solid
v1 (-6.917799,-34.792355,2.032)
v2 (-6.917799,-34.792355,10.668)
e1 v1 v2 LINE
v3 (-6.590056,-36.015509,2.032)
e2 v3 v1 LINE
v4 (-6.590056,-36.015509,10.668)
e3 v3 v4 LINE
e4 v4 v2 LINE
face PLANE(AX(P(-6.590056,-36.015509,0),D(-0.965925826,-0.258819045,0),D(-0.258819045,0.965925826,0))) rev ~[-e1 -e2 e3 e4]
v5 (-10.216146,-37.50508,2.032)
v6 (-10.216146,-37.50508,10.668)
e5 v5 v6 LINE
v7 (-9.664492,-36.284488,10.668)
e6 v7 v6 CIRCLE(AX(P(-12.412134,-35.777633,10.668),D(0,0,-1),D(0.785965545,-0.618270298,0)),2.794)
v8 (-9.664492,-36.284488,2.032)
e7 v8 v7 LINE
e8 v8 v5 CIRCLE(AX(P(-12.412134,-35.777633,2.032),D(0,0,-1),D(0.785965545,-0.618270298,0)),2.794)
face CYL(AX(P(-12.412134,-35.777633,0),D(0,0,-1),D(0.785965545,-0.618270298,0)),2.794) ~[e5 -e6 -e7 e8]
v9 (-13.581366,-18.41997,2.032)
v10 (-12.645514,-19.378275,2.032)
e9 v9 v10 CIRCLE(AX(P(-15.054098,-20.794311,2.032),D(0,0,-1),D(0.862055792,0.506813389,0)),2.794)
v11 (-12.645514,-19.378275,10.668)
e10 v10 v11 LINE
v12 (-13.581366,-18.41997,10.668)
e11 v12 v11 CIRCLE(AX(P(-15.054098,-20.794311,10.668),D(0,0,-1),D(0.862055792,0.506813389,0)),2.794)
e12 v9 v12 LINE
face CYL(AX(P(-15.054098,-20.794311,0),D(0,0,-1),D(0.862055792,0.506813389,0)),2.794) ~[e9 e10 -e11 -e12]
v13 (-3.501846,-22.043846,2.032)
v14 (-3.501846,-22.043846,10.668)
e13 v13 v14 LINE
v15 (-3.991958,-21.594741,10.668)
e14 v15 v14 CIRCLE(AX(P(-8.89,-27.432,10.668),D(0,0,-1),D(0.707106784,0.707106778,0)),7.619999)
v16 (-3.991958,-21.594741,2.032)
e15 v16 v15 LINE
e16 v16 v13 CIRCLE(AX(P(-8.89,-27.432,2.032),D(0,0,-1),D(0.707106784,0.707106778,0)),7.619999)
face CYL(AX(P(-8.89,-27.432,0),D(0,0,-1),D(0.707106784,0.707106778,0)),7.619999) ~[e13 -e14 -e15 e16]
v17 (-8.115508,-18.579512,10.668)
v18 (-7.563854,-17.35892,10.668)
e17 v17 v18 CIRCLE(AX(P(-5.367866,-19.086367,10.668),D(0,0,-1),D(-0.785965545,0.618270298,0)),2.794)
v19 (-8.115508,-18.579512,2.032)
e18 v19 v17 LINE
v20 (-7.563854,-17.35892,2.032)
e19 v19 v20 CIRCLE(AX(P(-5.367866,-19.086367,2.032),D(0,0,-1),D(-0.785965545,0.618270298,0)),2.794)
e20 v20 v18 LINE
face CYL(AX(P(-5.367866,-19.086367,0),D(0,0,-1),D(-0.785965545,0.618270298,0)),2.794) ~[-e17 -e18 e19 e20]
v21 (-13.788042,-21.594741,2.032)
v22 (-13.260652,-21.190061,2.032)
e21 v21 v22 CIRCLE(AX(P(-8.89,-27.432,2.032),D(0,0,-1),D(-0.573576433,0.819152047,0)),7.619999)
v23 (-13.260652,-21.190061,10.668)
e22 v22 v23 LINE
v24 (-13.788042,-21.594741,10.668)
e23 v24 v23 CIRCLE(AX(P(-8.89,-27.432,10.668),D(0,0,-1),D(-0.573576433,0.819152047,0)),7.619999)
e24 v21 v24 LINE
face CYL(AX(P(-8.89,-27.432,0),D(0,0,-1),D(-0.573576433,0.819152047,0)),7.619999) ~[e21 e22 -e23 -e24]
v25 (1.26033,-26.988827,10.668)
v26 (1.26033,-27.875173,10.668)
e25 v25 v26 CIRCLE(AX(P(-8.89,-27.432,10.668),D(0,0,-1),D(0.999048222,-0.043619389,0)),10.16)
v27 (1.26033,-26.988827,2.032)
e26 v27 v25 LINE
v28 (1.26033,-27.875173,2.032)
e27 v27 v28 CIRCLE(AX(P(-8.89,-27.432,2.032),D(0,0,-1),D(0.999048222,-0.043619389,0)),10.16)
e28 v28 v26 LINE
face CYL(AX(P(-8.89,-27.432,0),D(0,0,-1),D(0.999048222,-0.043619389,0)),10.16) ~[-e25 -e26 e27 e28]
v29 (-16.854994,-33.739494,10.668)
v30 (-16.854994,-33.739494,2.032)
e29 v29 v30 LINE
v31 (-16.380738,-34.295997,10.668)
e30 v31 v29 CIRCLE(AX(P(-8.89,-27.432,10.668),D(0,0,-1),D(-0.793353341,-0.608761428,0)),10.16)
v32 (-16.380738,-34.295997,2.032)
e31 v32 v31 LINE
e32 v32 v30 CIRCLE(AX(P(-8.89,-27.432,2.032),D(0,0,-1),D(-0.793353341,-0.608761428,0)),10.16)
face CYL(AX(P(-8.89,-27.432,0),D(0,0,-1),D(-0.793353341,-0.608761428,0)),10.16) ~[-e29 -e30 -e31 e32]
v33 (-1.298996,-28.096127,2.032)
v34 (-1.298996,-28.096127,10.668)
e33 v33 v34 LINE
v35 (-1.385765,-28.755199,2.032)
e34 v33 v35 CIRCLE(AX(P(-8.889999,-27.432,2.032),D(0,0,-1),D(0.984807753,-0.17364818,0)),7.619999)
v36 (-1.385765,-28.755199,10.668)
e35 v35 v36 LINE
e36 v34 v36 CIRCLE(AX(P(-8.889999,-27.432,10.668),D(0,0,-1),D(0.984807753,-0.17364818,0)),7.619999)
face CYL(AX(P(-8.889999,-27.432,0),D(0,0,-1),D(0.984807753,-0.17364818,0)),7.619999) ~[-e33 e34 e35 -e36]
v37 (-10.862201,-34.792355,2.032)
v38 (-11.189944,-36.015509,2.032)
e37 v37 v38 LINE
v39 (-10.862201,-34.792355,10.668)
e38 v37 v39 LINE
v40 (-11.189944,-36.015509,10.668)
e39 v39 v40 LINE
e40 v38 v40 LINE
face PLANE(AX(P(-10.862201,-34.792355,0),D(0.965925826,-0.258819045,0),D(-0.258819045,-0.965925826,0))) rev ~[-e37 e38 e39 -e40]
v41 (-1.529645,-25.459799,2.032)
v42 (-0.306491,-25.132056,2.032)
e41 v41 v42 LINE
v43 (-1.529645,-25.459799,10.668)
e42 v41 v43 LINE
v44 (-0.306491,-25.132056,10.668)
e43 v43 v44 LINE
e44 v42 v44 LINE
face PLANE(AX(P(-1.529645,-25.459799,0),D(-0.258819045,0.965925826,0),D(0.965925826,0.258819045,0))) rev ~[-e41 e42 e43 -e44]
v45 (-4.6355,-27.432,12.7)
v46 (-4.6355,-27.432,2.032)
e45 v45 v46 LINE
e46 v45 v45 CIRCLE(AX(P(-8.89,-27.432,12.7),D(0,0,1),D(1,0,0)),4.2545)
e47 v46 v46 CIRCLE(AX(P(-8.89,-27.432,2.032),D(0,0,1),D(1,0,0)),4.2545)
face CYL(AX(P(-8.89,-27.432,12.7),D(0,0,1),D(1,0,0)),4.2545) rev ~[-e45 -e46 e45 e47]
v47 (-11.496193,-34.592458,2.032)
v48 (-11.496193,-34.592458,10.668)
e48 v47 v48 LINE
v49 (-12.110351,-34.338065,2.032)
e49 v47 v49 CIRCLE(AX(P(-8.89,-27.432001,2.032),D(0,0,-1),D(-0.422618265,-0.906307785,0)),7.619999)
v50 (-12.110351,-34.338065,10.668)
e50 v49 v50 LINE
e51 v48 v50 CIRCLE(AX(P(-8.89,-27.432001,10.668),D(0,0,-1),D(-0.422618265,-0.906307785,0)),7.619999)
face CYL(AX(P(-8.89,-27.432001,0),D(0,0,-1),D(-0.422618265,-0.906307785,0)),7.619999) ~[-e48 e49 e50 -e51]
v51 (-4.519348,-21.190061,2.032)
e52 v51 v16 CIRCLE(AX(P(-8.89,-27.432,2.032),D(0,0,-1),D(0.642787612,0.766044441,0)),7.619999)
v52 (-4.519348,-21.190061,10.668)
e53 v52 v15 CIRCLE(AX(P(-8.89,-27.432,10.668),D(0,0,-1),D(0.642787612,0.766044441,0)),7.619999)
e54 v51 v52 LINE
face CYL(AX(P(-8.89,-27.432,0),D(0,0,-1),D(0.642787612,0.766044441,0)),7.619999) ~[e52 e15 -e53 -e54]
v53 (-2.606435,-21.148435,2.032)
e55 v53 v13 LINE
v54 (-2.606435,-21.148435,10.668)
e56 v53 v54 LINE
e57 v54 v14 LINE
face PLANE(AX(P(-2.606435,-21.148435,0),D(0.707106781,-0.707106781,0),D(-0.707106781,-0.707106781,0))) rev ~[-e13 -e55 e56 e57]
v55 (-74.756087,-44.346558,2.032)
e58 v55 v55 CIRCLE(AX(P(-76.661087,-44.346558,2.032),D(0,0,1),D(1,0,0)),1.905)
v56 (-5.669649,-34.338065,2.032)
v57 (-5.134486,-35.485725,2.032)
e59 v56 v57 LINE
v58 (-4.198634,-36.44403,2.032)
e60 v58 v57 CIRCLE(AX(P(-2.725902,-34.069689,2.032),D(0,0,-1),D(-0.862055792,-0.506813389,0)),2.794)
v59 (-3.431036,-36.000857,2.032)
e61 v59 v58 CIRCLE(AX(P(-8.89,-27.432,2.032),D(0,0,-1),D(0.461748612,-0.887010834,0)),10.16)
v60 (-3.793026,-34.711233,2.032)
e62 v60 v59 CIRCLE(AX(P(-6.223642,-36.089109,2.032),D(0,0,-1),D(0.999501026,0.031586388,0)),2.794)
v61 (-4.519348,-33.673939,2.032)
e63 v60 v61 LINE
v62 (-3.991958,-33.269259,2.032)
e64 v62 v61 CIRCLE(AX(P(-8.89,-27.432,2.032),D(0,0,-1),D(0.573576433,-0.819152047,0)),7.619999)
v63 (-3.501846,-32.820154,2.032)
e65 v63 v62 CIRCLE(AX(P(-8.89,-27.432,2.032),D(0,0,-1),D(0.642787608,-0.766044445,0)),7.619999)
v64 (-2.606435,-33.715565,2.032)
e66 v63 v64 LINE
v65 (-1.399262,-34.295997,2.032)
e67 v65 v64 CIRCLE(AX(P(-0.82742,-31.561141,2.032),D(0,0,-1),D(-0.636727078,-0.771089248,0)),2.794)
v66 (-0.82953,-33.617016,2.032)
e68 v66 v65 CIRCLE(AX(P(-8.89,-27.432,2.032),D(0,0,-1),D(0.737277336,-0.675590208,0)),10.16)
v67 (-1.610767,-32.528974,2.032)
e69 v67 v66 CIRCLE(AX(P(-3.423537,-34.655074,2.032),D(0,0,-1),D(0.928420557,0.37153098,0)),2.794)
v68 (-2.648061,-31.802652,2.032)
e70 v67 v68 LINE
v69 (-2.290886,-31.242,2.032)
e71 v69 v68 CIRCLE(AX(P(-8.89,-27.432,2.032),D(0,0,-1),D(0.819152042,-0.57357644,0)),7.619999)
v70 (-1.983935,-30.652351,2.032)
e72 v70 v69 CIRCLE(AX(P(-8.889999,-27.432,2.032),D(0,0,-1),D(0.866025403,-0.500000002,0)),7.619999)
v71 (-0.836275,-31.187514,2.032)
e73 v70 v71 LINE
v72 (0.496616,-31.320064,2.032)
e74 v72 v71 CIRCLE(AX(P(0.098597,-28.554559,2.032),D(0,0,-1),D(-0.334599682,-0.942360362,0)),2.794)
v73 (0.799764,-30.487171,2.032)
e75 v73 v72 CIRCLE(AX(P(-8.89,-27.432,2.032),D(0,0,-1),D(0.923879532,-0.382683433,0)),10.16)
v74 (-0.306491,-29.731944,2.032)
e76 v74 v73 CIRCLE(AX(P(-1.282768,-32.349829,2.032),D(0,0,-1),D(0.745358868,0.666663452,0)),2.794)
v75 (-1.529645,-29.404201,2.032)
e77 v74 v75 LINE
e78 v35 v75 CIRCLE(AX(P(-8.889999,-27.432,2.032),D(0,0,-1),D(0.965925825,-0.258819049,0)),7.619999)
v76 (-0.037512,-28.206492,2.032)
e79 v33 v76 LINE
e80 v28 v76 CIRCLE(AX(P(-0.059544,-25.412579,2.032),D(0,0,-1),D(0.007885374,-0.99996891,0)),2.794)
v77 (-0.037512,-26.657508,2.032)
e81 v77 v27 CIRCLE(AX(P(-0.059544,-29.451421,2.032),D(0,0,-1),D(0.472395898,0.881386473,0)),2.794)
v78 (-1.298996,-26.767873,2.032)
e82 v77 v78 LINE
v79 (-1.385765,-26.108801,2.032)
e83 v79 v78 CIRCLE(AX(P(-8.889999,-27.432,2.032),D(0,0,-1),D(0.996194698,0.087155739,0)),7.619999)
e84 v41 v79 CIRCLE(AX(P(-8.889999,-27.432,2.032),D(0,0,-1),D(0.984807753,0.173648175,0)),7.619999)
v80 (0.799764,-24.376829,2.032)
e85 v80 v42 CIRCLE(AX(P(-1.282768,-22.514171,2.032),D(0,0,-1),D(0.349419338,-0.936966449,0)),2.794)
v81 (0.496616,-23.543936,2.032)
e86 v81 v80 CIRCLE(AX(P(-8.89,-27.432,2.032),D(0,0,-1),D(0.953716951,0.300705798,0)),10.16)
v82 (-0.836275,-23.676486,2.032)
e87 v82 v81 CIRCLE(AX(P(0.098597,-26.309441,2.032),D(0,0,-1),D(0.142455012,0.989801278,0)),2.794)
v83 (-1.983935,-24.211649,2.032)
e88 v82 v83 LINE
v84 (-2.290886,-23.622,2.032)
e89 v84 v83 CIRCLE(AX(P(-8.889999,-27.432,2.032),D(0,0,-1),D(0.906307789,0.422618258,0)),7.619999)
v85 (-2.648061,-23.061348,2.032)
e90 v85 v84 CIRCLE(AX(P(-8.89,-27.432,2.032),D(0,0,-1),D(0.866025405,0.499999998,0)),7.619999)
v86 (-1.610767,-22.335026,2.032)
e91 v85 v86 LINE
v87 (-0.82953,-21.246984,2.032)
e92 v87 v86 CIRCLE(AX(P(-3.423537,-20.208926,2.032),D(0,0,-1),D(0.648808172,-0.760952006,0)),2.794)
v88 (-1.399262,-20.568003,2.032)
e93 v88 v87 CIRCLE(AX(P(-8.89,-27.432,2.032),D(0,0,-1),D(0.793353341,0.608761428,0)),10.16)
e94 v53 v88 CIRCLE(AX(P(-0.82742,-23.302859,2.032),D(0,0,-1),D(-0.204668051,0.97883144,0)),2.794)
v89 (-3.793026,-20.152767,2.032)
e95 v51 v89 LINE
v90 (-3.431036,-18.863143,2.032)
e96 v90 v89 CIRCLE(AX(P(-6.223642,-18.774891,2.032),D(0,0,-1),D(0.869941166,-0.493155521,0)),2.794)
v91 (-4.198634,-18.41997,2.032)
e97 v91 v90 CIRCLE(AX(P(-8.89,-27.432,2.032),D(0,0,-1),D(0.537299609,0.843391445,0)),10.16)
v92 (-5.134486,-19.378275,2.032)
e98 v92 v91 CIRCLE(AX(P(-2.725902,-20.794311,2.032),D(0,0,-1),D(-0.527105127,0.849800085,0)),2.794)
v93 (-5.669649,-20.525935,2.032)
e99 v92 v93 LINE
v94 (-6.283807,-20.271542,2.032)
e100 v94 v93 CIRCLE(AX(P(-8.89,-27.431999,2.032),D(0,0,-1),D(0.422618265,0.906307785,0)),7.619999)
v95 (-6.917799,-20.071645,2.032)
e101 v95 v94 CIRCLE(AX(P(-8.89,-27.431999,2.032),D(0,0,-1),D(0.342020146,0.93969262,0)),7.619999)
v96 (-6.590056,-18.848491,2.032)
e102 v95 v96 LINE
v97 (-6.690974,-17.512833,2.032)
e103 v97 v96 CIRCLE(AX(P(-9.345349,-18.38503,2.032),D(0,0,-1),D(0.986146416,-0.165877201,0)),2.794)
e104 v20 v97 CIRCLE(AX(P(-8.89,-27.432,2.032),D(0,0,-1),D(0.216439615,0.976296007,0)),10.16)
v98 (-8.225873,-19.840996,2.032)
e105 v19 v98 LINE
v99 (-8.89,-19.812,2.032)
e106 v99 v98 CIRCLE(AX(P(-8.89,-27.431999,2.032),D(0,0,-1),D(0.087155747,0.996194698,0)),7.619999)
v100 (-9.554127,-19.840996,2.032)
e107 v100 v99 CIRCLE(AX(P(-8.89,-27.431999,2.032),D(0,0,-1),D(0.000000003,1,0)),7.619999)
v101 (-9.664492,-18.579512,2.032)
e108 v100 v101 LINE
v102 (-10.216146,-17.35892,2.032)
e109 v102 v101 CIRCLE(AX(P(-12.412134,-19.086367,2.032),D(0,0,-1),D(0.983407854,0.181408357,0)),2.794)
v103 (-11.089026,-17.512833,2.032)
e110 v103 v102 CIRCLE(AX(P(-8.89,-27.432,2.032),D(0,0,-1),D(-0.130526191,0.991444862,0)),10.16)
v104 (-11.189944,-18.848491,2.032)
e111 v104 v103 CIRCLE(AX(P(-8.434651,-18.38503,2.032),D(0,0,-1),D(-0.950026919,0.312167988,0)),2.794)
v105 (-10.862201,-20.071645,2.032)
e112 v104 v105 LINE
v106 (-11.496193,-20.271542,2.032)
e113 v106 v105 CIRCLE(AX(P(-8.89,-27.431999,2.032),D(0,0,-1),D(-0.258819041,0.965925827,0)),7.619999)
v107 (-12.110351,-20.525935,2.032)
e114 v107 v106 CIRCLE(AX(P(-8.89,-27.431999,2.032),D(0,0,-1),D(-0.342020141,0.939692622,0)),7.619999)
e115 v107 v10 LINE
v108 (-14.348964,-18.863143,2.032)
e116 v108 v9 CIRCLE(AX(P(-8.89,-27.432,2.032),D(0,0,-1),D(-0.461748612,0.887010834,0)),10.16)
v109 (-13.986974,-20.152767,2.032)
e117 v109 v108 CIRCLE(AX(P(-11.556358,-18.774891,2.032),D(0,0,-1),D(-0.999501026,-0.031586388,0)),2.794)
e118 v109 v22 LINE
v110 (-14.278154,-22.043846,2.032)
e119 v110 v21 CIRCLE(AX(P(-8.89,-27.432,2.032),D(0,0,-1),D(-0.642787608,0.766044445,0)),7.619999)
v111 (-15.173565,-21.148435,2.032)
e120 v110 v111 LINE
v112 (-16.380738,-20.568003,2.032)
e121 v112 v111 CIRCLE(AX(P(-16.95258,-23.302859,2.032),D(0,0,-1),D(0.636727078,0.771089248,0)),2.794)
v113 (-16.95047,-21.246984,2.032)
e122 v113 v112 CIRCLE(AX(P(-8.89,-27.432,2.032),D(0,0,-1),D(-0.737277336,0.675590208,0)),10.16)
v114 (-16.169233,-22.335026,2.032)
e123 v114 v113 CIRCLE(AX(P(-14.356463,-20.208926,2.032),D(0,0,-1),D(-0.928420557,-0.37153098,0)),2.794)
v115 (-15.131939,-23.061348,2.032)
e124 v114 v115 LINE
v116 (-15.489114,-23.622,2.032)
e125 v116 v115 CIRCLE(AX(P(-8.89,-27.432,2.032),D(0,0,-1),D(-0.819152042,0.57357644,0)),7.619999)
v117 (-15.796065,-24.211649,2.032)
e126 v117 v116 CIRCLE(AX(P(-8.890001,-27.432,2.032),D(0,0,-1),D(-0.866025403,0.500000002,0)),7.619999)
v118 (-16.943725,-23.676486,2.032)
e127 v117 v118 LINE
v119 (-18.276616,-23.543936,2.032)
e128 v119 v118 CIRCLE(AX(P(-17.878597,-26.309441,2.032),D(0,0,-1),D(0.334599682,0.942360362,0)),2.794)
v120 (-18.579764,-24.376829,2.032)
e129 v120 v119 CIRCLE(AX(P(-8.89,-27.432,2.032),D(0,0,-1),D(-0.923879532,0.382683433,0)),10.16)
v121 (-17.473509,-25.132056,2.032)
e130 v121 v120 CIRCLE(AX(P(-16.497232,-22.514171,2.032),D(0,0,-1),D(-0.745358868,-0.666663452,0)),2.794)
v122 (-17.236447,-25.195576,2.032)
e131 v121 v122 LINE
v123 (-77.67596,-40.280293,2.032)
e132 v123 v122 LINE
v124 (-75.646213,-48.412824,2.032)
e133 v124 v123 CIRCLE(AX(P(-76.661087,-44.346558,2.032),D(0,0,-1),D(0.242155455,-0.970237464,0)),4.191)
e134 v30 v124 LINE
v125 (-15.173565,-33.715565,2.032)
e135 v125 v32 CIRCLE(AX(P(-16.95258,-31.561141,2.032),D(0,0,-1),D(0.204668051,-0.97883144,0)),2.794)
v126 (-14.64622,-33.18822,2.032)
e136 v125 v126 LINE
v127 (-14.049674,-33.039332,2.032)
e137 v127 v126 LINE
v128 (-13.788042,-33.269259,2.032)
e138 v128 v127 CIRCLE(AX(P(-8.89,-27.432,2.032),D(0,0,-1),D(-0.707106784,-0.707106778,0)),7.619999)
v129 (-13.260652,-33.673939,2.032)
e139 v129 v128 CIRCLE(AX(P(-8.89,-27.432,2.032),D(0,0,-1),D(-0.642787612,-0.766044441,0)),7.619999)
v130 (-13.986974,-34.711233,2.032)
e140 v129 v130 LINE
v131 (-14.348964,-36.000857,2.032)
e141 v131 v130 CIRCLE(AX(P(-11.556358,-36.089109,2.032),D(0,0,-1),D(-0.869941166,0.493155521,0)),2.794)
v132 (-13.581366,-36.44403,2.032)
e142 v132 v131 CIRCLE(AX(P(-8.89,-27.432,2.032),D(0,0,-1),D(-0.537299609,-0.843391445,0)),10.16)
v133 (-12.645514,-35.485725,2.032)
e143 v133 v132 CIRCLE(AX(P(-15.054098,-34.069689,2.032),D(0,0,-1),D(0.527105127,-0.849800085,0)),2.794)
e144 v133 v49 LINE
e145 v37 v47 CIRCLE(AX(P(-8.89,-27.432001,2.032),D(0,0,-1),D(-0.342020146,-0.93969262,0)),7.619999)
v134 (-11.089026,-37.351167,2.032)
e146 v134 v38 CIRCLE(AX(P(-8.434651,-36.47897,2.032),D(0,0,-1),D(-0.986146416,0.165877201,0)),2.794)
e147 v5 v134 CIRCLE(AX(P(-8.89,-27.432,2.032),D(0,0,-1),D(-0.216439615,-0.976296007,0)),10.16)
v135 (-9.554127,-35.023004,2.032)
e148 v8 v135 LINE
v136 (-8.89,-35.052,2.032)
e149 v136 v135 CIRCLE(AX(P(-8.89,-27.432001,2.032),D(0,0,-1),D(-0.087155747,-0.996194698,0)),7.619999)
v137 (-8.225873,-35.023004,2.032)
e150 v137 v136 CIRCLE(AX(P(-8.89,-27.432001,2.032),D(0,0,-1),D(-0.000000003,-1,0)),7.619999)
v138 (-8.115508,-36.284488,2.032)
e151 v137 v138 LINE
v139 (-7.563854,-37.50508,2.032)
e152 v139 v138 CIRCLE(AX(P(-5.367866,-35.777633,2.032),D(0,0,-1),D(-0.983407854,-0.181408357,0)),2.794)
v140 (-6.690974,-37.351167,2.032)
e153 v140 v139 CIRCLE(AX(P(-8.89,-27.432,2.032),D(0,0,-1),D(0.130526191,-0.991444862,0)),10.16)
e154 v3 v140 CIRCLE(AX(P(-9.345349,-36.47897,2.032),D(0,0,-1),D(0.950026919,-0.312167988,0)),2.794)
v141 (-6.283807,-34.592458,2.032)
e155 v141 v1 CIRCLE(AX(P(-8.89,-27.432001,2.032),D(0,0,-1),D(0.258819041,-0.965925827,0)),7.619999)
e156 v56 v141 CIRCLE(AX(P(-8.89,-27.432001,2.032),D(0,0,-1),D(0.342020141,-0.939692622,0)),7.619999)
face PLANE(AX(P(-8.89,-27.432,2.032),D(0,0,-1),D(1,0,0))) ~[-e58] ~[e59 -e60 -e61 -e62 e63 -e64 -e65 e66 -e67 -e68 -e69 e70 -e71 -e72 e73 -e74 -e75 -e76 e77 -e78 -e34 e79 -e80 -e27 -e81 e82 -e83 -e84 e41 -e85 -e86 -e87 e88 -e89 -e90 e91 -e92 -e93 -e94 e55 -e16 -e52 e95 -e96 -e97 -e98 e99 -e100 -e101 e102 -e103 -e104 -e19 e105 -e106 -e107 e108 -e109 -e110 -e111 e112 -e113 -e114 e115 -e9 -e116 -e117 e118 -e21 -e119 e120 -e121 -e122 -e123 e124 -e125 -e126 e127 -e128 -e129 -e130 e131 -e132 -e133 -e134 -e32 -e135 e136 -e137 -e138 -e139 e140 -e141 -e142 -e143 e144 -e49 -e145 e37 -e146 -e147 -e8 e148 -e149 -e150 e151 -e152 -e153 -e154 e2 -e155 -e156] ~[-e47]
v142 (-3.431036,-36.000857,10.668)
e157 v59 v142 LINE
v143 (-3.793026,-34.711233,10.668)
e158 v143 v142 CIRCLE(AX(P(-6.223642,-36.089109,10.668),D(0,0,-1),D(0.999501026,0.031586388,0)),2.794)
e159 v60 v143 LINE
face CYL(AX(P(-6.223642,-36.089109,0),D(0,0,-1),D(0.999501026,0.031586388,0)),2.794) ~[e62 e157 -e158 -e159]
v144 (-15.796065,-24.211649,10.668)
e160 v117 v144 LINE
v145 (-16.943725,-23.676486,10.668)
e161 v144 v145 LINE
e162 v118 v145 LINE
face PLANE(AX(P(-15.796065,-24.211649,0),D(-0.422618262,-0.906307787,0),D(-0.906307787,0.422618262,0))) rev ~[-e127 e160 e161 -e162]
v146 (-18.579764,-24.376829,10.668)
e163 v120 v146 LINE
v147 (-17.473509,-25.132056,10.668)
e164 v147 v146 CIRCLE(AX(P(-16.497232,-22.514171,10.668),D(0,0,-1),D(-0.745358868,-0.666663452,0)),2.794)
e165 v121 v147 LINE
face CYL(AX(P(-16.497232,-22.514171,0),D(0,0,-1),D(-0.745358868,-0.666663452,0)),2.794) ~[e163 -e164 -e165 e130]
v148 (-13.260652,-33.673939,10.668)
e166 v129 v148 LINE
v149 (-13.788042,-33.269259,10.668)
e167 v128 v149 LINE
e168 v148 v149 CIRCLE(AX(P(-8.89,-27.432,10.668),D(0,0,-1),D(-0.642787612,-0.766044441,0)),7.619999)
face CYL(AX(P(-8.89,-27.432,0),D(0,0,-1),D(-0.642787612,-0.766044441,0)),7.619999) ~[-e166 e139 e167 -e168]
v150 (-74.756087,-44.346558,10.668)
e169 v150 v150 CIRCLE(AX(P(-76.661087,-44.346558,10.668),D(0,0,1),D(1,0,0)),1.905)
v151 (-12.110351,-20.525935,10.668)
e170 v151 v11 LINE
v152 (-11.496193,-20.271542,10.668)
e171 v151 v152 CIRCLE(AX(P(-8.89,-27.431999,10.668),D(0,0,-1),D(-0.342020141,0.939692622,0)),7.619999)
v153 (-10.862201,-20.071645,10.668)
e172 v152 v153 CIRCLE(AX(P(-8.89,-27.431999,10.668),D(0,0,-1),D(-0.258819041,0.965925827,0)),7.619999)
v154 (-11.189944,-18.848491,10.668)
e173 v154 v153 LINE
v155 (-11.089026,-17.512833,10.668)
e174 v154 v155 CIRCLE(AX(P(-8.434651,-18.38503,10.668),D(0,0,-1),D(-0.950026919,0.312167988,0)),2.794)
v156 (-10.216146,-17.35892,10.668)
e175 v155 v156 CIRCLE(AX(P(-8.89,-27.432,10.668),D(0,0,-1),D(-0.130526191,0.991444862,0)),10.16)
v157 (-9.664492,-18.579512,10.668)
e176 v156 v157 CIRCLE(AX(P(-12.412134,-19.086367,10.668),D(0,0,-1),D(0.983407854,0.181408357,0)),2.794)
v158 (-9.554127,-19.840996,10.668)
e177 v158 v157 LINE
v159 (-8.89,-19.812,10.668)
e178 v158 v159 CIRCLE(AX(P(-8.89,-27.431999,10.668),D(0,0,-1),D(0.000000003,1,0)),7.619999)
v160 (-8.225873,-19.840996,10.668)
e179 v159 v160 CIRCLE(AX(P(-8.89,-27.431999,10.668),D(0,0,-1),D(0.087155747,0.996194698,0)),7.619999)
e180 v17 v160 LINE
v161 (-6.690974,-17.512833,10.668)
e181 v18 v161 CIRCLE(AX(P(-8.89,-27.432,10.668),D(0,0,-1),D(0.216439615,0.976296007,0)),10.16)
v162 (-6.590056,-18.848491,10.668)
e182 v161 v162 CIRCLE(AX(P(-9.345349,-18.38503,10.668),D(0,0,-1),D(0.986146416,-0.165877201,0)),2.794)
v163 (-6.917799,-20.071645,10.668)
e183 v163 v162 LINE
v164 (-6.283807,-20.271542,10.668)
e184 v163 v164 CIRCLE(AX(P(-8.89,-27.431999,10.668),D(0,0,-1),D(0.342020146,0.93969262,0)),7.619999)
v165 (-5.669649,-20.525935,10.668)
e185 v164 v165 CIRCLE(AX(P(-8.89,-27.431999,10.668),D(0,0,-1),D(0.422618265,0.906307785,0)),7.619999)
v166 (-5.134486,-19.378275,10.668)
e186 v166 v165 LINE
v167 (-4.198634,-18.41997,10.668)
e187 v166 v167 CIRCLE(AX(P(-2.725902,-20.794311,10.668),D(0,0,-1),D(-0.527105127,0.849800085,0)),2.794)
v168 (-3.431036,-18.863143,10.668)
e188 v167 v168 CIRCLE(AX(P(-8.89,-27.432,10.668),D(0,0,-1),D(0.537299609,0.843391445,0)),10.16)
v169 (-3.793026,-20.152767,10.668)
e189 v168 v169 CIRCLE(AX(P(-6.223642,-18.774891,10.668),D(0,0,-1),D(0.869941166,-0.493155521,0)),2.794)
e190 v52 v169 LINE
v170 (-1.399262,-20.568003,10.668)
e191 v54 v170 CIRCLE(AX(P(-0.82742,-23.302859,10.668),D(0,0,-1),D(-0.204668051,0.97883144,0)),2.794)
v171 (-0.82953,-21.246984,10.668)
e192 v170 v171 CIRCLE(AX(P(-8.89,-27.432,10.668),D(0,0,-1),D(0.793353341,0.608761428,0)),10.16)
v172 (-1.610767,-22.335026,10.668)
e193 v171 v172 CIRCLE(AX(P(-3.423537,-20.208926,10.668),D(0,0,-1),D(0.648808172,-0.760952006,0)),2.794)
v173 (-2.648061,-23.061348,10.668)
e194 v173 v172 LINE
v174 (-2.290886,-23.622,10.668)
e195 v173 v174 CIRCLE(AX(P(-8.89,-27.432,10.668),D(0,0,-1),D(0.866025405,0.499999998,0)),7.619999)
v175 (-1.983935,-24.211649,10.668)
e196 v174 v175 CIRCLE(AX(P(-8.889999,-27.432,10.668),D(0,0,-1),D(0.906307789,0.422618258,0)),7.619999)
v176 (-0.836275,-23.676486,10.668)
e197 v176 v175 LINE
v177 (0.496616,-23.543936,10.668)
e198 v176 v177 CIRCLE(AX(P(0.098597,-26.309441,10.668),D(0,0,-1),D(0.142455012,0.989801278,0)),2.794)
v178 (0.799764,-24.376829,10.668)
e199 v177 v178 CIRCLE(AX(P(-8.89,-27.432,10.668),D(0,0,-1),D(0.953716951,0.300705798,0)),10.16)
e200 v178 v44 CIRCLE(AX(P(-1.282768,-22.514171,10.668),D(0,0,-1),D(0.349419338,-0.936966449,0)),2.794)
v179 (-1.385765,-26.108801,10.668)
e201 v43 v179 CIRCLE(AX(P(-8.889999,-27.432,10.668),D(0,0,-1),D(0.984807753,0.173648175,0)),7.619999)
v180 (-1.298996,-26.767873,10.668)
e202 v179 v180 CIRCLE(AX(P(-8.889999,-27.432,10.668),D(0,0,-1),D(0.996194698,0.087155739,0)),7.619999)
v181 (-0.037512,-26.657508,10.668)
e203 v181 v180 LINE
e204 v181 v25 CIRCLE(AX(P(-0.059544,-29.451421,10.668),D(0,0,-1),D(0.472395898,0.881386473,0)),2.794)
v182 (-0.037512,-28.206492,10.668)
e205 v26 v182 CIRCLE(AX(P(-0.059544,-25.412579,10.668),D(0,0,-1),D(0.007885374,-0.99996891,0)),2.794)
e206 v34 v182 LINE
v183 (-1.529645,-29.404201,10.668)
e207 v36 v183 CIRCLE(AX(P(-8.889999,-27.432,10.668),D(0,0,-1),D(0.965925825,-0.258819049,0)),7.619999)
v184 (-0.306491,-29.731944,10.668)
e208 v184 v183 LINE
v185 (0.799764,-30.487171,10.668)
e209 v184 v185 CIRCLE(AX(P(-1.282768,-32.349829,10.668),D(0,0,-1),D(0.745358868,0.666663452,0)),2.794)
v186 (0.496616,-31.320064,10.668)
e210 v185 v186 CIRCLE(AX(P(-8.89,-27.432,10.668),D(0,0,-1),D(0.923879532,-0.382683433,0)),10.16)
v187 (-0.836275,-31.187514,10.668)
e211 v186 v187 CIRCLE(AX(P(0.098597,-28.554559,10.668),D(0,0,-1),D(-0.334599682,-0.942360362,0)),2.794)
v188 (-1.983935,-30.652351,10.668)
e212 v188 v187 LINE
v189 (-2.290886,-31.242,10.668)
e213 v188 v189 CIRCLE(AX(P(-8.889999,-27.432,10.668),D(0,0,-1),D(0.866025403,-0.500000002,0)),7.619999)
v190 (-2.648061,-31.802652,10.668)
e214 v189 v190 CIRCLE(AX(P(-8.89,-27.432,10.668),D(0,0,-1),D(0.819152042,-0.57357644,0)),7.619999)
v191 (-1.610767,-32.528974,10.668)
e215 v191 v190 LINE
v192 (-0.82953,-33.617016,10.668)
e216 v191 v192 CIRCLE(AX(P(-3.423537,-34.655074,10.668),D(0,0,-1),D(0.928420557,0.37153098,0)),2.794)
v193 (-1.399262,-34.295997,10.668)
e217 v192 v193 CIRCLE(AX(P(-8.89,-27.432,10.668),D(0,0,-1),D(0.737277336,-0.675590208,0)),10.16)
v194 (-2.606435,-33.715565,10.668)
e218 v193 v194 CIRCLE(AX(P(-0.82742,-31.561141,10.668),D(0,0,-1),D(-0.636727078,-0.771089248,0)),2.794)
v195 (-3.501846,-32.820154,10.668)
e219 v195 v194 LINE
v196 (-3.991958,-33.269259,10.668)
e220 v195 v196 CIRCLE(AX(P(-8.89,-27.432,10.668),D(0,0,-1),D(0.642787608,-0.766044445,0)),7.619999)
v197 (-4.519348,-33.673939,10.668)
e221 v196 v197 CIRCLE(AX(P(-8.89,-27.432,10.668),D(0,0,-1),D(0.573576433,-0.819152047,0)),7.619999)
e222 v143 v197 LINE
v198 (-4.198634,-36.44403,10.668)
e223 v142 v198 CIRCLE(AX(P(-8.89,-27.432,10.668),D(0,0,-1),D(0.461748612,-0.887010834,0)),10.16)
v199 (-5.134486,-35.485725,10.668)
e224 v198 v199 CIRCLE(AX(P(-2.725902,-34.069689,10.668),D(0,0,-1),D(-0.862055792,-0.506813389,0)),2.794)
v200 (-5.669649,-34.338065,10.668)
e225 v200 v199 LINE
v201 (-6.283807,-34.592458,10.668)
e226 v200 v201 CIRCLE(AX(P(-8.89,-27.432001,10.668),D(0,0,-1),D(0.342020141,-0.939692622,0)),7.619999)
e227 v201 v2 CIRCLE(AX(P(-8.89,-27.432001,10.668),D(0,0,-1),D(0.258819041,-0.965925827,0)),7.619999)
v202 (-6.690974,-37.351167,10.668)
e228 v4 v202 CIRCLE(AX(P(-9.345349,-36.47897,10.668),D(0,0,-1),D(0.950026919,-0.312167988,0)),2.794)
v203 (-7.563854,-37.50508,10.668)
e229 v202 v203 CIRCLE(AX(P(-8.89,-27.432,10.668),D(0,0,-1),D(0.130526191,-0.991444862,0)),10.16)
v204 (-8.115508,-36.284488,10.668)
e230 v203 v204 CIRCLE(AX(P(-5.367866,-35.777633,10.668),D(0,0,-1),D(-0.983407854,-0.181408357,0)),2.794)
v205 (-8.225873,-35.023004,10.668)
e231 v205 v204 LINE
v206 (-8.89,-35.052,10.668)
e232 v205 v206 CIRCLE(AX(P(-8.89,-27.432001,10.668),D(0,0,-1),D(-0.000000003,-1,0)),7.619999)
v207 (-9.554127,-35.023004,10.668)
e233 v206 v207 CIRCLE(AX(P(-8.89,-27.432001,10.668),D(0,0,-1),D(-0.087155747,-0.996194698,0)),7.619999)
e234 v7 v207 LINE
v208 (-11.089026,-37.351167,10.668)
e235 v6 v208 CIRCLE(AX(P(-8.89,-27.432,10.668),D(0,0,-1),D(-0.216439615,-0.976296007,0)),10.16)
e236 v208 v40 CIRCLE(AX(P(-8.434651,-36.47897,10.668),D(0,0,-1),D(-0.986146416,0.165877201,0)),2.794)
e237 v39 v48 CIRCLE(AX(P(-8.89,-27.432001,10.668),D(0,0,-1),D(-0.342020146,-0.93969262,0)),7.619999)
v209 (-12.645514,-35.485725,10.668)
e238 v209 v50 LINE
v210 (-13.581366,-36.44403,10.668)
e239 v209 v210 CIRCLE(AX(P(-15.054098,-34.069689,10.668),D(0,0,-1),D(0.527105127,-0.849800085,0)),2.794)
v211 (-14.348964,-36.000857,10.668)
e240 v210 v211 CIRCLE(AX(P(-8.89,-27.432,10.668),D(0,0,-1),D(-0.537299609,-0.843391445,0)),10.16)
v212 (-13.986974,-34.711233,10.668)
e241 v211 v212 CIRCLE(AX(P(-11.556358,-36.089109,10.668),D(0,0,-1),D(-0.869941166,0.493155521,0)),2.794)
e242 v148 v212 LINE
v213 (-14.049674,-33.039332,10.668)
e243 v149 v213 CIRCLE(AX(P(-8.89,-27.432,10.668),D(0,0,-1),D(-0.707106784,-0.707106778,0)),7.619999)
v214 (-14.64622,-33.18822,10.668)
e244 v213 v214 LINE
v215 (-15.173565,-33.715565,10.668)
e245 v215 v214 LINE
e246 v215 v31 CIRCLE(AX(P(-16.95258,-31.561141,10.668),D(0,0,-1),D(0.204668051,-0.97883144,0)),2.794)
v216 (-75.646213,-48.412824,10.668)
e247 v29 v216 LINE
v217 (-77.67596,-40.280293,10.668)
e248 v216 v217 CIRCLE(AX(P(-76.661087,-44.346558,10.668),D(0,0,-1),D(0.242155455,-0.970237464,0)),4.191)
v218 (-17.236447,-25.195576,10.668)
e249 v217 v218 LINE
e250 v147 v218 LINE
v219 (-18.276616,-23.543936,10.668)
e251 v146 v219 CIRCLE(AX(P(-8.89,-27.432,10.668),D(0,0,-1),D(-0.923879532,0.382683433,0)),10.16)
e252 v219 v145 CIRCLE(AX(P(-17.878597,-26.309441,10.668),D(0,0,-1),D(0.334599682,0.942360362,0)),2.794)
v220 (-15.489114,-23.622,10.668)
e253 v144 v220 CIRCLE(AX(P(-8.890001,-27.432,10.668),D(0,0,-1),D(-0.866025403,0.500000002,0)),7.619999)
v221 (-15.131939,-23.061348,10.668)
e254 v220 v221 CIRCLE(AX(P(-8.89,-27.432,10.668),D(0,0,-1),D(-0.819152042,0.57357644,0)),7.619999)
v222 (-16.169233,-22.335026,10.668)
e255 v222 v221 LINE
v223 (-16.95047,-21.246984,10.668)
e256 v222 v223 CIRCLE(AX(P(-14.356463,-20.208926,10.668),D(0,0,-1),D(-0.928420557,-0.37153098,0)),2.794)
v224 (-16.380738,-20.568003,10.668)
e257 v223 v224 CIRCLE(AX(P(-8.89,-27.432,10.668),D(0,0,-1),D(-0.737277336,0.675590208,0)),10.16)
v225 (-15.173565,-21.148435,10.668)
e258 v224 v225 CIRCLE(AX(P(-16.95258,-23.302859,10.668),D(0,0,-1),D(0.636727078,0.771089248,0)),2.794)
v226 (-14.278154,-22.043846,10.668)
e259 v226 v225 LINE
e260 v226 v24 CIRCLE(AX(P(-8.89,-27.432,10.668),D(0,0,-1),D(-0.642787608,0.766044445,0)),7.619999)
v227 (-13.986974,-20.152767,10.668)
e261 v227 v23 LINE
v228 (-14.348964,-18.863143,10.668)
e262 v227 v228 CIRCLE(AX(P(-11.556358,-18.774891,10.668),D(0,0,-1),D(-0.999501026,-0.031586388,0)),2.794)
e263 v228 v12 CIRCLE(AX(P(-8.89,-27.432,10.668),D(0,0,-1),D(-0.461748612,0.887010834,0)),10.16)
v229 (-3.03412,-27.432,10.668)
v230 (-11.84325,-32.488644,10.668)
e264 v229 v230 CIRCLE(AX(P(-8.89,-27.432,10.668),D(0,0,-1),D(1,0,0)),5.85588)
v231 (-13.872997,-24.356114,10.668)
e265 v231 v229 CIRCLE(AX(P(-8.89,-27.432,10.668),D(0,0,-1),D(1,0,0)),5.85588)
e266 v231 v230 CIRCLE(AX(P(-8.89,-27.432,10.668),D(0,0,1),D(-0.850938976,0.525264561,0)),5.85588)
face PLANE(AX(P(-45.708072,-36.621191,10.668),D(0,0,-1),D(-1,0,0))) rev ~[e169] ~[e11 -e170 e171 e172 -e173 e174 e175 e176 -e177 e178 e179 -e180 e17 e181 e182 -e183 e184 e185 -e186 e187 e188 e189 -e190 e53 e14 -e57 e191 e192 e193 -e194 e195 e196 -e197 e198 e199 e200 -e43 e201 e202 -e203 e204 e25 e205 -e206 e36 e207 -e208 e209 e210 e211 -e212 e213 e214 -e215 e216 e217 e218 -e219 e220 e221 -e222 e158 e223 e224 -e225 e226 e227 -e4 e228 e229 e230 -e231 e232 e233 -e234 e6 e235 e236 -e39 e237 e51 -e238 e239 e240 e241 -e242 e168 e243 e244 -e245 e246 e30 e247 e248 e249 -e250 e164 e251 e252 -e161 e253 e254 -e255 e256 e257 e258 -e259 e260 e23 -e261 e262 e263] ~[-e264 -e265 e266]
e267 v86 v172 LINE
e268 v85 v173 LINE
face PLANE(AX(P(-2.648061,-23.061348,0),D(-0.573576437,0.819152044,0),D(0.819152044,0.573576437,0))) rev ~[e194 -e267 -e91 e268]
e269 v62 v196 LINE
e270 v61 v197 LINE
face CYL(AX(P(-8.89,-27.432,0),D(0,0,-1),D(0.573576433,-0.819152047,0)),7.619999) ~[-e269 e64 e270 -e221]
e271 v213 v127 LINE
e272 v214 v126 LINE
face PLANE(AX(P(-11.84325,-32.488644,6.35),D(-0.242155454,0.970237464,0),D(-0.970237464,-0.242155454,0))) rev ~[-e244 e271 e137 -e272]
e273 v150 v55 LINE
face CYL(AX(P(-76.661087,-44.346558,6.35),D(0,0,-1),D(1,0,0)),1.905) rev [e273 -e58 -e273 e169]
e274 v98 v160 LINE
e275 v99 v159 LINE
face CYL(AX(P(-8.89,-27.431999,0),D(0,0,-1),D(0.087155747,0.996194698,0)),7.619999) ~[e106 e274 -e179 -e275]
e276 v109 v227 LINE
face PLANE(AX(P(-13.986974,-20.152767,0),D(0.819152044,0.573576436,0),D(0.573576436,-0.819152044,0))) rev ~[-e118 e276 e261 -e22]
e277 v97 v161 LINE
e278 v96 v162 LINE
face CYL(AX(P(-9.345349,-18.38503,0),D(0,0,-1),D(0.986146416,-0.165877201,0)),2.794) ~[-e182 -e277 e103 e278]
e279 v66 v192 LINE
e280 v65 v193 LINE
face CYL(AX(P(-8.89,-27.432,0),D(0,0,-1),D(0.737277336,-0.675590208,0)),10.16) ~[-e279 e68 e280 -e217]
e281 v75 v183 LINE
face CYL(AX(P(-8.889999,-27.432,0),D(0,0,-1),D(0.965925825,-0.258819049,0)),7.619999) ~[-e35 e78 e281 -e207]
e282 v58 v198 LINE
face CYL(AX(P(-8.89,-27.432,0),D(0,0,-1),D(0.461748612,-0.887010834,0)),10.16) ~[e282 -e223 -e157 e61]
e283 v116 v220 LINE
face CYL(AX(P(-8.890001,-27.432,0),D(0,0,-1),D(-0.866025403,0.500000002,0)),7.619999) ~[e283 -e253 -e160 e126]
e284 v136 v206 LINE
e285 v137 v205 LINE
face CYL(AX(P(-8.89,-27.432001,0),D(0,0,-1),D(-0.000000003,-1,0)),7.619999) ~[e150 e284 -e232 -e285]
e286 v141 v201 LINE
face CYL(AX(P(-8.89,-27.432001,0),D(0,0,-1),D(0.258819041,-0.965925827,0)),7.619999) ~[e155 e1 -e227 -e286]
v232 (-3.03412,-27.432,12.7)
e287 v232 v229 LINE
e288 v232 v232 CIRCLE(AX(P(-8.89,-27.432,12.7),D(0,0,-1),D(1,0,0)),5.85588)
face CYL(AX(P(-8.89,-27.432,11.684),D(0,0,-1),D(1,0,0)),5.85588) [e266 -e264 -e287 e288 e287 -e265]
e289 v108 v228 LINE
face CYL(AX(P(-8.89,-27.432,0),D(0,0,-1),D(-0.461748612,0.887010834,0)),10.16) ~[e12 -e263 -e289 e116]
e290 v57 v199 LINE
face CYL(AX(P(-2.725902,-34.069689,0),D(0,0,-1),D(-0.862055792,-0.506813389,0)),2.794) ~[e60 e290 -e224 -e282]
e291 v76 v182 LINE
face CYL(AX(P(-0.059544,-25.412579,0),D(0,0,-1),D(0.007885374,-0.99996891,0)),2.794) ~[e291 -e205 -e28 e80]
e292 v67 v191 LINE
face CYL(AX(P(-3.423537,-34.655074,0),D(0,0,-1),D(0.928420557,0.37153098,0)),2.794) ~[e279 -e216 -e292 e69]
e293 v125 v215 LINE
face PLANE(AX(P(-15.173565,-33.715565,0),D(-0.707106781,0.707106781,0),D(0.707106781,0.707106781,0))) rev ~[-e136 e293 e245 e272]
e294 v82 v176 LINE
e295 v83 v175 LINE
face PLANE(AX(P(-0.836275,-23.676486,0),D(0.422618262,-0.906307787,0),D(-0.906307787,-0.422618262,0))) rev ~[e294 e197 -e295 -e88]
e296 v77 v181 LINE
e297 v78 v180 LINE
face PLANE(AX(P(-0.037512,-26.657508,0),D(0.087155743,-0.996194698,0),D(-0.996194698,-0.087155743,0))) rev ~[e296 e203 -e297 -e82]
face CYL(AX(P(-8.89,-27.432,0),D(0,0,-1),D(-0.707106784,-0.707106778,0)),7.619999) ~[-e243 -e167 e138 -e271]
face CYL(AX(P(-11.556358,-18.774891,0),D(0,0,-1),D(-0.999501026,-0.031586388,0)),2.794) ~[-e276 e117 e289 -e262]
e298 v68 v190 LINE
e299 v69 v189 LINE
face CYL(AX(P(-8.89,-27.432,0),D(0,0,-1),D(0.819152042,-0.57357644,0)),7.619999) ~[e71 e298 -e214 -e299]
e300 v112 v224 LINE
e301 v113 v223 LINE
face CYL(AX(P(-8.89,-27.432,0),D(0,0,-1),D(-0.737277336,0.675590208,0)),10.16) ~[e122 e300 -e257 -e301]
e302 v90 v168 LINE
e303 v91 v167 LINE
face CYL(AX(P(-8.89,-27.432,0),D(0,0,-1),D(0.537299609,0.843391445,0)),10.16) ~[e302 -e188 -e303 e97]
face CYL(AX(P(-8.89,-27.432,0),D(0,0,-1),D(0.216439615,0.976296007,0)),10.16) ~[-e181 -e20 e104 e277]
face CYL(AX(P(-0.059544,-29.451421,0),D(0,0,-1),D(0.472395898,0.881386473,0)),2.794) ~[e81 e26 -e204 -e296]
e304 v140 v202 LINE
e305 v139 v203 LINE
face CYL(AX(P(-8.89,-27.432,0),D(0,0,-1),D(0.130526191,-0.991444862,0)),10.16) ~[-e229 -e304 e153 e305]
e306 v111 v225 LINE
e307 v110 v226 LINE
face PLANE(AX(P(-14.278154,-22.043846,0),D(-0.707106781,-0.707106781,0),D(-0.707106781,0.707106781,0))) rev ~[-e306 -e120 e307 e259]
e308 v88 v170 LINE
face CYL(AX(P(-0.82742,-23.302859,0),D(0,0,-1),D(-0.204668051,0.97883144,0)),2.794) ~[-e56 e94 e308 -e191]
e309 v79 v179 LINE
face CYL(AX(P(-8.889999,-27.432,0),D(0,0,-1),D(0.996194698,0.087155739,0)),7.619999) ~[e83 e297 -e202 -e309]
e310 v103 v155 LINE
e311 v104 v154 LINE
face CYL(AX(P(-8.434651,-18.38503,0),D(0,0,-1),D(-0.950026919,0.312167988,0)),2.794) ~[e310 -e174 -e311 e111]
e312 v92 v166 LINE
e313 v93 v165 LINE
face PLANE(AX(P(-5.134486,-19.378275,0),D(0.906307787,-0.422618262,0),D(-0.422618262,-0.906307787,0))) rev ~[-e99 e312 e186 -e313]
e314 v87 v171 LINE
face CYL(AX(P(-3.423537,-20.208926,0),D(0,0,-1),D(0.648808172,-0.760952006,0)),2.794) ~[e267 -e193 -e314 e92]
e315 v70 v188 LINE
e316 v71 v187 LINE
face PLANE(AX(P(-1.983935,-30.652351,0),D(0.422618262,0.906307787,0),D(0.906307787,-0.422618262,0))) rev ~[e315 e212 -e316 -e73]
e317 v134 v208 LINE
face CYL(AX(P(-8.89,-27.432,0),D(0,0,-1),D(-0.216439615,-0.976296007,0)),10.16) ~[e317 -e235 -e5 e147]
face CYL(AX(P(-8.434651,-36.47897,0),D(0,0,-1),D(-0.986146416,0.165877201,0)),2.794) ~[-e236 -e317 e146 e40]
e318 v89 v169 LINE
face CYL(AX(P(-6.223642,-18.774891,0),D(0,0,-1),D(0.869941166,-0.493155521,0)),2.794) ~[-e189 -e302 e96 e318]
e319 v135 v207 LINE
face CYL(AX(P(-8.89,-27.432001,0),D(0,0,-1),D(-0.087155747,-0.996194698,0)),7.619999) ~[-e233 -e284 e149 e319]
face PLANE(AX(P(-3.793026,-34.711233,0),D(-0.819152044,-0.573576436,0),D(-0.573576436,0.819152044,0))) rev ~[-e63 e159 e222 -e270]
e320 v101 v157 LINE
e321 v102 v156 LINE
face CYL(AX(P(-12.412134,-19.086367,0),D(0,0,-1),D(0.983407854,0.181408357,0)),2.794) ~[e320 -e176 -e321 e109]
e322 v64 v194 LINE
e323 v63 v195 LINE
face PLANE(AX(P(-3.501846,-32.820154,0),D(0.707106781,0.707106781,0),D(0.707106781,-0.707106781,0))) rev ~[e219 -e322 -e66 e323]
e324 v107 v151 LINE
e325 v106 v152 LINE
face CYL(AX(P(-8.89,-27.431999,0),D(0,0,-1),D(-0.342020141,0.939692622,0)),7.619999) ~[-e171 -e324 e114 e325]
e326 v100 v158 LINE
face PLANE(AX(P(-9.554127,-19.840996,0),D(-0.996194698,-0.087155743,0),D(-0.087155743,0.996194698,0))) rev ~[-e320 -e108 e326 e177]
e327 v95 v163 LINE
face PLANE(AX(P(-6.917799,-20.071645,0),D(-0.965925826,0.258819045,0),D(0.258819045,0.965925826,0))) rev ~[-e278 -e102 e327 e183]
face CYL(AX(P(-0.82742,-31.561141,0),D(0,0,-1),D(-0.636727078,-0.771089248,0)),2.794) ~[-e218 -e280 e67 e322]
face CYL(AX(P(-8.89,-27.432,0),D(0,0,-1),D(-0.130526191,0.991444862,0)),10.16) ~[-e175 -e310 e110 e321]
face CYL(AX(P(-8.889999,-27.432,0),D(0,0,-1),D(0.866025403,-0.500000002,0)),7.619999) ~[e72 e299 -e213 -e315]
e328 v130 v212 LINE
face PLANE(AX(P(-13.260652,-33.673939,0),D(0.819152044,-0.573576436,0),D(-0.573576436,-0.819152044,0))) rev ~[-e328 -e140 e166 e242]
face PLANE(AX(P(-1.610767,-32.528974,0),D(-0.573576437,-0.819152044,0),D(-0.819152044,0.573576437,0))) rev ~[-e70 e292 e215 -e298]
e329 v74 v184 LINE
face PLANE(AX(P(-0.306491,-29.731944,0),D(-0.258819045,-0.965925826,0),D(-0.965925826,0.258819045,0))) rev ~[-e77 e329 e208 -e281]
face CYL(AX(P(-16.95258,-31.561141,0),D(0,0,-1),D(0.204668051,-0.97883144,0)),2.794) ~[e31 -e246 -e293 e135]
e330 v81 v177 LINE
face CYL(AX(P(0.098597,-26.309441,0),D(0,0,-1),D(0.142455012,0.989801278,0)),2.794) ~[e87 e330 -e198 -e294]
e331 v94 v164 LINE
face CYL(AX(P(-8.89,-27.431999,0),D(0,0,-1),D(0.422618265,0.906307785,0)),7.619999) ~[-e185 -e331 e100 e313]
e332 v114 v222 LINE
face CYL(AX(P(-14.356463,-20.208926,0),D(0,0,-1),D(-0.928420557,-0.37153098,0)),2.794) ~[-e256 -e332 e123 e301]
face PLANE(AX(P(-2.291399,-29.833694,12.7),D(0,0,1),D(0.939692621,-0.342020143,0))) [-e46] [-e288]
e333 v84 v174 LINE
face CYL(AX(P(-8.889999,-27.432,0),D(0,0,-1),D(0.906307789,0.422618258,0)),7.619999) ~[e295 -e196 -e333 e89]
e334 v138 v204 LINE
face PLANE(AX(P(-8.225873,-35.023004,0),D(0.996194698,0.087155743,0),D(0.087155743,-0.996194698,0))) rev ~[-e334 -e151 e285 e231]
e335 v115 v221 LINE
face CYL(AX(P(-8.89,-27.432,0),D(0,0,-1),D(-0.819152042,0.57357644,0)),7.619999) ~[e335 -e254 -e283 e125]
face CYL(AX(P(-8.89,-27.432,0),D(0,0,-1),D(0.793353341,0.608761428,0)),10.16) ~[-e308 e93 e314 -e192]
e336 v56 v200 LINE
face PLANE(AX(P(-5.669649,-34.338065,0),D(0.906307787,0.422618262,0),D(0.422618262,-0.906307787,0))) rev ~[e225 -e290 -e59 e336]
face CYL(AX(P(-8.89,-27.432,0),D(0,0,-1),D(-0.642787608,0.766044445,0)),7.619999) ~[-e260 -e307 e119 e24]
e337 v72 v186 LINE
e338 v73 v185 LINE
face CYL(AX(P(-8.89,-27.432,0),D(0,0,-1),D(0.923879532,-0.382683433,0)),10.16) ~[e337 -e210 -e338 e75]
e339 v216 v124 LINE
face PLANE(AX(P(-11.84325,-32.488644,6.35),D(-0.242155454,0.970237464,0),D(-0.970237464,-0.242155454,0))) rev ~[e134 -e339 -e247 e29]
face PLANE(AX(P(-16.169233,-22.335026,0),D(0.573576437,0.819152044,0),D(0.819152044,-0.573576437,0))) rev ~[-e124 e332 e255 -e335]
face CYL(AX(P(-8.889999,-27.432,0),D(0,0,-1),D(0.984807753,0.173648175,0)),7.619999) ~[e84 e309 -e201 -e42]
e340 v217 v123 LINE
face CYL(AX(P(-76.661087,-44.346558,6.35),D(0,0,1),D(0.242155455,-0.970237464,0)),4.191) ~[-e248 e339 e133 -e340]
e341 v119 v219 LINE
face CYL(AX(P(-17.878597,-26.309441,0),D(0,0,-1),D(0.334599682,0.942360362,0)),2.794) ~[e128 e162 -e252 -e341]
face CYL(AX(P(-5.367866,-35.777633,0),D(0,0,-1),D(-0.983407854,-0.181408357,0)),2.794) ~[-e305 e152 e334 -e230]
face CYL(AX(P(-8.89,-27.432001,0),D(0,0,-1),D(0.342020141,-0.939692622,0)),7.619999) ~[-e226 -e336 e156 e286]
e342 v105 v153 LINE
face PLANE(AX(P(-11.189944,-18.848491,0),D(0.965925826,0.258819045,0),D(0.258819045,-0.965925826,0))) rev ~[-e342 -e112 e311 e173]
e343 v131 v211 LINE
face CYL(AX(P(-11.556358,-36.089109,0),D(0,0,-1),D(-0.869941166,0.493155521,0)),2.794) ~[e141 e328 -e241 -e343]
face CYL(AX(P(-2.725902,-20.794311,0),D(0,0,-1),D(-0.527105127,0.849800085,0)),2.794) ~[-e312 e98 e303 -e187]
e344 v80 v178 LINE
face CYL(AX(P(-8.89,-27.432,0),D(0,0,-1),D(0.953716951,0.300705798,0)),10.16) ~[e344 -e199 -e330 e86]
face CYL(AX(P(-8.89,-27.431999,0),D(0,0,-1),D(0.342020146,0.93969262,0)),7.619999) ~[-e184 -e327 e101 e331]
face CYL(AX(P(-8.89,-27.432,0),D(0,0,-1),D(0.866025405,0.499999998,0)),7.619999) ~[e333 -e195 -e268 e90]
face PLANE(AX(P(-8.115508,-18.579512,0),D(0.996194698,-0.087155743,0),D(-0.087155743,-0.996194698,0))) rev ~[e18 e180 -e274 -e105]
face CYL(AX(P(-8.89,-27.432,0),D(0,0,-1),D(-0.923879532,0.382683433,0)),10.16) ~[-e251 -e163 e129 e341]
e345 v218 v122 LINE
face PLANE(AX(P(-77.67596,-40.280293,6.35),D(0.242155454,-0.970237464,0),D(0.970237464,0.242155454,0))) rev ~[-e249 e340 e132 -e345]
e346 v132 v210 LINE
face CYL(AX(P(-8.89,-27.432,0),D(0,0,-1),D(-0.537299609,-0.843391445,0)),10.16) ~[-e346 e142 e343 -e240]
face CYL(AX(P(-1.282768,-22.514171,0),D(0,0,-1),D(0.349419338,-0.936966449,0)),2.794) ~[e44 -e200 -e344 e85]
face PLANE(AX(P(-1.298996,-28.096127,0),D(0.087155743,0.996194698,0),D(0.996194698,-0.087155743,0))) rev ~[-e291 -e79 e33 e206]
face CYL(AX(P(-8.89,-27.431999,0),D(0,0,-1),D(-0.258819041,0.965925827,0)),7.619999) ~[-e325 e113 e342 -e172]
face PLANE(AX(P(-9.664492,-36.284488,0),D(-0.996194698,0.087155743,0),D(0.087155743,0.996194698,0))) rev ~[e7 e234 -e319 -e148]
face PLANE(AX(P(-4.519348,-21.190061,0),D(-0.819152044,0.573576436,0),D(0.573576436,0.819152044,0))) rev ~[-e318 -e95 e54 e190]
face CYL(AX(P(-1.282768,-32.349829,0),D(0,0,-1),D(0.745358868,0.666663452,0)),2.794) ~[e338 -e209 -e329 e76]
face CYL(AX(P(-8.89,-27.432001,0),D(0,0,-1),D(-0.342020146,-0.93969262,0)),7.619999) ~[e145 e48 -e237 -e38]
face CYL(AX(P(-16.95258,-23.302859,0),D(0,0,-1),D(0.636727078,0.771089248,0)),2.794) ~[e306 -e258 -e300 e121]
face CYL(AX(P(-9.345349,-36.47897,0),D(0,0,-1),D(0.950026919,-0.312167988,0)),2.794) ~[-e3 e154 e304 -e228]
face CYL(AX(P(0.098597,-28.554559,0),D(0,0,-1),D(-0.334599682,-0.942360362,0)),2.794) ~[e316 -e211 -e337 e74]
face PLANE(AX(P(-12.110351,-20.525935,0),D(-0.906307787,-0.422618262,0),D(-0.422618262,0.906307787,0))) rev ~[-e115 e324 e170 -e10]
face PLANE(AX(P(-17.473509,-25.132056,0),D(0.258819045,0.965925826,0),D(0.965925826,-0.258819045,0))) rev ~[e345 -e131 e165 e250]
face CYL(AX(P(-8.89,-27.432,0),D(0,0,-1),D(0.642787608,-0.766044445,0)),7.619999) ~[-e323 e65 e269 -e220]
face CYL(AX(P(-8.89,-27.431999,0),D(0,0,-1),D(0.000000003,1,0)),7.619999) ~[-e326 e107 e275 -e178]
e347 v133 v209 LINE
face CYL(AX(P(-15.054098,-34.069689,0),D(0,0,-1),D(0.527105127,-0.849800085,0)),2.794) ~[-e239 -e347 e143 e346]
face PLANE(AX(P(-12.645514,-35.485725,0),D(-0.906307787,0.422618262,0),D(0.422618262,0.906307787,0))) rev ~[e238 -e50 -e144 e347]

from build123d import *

# Parameters (mm, degrees)
BOSS_EXTRUDE1_DEPTH = 12.7
CIRPATTERN1_COUNT   = 18
SKETCH3_W           = 2.032
SKETCH3_H           = 4.860083526
SKETCH5_R           = 1.905
BOSS_EXTRUDE3_DEPTH = 4.318
SKETCH6_R           = 5.855880208
CUT_EXTRUDE1_DEPTH  = 2.032
SKETCH7_R           = 4.2545
CUT_EXTRUDE2_DEPTH  = 95.903955419


with BuildPart() as part:
    # Sketch2 → Boss-Extrude1 (new body)
    with BuildSketch(Plane.XY):
        with BuildLine():
            Line((-4.887741292, -28.137706194), (-1.385764922, -28.755199114))
            ThreePointArc((-1.385764922, -28.755199114), (-1.335190156, -28.426609585), (-1.298996401, -28.09612676))
            Line((-1.298996401, -28.09612676), (-0.037512469, -28.206492303))
            ThreePointArc((-0.037512469, -28.206492303), (0.631557066, -28.119757595), (1.260329931, -27.875172976))
            ThreePointArc((1.260329931, -27.875172976), (1.27, -27.432), (1.260329931, -26.988827024))
            ThreePointArc((1.260329931, -26.988827024), (0.631557066, -26.744242405), (-0.037512469, -26.657507697))
            Line((-0.037512469, -26.657507697), (-1.298996401, -26.76787324))
            ThreePointArc((-1.298996401, -26.76787324), (-1.335190156, -26.437390415), (-1.385764922, -26.108800886))
            Line((-1.385764922, -26.108800886), (-4.887741292, -26.726293806))
            ThreePointArc((-4.887741292, -26.726293806), (-4.826, -27.432), (-4.887741292, -28.137706194))
        make_face()
    boss_extrude1 = extrude(amount=BOSS_EXTRUDE1_DEPTH)

    # CirPattern1: Boss-Extrude1 ×18 about axis
    cirpattern1_axis = Axis((-8.89, -27.432, 0), (0, 0, 1))
    for i in range(1, CIRPATTERN1_COUNT):
        add(boss_extrude1.rotate(cirpattern1_axis, i * 360 / CIRPATTERN1_COUNT))

    # Sketch3 → Cut-Revolve1 (revolve, cut)
    with BuildSketch(Plane(origin=(0, -27.432, 0), x_dir=(0, 0, -1), z_dir=(0, -1, 0))):
        with Locations((-11.684, -0.604078029)):
            Rectangle(SKETCH3_W, SKETCH3_H)
        with Locations((-1.016, -0.604078029)):
            Rectangle(SKETCH3_W, SKETCH3_H)
    revolve(axis=Axis((-8.89, -27.432, 12.7), (0, 0, -1)), mode=Mode.SUBTRACT)

    # Sketch5 → Boss-Extrude3 (add, symmetric)
    with BuildSketch(Plane.XY.offset(6.35)):
        with BuildLine():
            Line((-11.843249689, -32.488644073), (-75.646213327, -48.412823701))
            ThreePointArc((-75.646213327, -48.412823701), (-80.727352047, -45.361432), (-77.675960346, -40.280293281))
            Line((-77.675960346, -40.280293281), (-13.872996708, -24.356113653))
            ThreePointArc((-13.872996708, -24.356113653), (-14.571594361, -28.850033333), (-11.843249689, -32.488644073))
        make_face()
        with Locations((-76.661086837, -44.346558491)):
            Circle(SKETCH5_R, mode=Mode.SUBTRACT)
    extrude(amount=BOSS_EXTRUDE3_DEPTH, both=True)

    # Sketch6 → Cut-Extrude1 (cut)
    with BuildSketch(Plane(origin=(0, 0, 2.032), x_dir=(-1, 0, 0), z_dir=(0, 0, -1))):
        with Locations(Location((8.89, -27.432, 0), (0, 0, 180))):
            Circle(SKETCH6_R)
    extrude(amount=CUT_EXTRUDE1_DEPTH, mode=Mode.SUBTRACT)

    # Sketch7 → Cut-Extrude2 (cut, through all)
    with BuildSketch(Plane.XY.offset(12.7)):
        with Locations((-8.89, -27.432)):
            Circle(SKETCH7_R)
    extrude(amount=-CUT_EXTRUDE2_DEPTH, mode=Mode.SUBTRACT)


solid = part.part
